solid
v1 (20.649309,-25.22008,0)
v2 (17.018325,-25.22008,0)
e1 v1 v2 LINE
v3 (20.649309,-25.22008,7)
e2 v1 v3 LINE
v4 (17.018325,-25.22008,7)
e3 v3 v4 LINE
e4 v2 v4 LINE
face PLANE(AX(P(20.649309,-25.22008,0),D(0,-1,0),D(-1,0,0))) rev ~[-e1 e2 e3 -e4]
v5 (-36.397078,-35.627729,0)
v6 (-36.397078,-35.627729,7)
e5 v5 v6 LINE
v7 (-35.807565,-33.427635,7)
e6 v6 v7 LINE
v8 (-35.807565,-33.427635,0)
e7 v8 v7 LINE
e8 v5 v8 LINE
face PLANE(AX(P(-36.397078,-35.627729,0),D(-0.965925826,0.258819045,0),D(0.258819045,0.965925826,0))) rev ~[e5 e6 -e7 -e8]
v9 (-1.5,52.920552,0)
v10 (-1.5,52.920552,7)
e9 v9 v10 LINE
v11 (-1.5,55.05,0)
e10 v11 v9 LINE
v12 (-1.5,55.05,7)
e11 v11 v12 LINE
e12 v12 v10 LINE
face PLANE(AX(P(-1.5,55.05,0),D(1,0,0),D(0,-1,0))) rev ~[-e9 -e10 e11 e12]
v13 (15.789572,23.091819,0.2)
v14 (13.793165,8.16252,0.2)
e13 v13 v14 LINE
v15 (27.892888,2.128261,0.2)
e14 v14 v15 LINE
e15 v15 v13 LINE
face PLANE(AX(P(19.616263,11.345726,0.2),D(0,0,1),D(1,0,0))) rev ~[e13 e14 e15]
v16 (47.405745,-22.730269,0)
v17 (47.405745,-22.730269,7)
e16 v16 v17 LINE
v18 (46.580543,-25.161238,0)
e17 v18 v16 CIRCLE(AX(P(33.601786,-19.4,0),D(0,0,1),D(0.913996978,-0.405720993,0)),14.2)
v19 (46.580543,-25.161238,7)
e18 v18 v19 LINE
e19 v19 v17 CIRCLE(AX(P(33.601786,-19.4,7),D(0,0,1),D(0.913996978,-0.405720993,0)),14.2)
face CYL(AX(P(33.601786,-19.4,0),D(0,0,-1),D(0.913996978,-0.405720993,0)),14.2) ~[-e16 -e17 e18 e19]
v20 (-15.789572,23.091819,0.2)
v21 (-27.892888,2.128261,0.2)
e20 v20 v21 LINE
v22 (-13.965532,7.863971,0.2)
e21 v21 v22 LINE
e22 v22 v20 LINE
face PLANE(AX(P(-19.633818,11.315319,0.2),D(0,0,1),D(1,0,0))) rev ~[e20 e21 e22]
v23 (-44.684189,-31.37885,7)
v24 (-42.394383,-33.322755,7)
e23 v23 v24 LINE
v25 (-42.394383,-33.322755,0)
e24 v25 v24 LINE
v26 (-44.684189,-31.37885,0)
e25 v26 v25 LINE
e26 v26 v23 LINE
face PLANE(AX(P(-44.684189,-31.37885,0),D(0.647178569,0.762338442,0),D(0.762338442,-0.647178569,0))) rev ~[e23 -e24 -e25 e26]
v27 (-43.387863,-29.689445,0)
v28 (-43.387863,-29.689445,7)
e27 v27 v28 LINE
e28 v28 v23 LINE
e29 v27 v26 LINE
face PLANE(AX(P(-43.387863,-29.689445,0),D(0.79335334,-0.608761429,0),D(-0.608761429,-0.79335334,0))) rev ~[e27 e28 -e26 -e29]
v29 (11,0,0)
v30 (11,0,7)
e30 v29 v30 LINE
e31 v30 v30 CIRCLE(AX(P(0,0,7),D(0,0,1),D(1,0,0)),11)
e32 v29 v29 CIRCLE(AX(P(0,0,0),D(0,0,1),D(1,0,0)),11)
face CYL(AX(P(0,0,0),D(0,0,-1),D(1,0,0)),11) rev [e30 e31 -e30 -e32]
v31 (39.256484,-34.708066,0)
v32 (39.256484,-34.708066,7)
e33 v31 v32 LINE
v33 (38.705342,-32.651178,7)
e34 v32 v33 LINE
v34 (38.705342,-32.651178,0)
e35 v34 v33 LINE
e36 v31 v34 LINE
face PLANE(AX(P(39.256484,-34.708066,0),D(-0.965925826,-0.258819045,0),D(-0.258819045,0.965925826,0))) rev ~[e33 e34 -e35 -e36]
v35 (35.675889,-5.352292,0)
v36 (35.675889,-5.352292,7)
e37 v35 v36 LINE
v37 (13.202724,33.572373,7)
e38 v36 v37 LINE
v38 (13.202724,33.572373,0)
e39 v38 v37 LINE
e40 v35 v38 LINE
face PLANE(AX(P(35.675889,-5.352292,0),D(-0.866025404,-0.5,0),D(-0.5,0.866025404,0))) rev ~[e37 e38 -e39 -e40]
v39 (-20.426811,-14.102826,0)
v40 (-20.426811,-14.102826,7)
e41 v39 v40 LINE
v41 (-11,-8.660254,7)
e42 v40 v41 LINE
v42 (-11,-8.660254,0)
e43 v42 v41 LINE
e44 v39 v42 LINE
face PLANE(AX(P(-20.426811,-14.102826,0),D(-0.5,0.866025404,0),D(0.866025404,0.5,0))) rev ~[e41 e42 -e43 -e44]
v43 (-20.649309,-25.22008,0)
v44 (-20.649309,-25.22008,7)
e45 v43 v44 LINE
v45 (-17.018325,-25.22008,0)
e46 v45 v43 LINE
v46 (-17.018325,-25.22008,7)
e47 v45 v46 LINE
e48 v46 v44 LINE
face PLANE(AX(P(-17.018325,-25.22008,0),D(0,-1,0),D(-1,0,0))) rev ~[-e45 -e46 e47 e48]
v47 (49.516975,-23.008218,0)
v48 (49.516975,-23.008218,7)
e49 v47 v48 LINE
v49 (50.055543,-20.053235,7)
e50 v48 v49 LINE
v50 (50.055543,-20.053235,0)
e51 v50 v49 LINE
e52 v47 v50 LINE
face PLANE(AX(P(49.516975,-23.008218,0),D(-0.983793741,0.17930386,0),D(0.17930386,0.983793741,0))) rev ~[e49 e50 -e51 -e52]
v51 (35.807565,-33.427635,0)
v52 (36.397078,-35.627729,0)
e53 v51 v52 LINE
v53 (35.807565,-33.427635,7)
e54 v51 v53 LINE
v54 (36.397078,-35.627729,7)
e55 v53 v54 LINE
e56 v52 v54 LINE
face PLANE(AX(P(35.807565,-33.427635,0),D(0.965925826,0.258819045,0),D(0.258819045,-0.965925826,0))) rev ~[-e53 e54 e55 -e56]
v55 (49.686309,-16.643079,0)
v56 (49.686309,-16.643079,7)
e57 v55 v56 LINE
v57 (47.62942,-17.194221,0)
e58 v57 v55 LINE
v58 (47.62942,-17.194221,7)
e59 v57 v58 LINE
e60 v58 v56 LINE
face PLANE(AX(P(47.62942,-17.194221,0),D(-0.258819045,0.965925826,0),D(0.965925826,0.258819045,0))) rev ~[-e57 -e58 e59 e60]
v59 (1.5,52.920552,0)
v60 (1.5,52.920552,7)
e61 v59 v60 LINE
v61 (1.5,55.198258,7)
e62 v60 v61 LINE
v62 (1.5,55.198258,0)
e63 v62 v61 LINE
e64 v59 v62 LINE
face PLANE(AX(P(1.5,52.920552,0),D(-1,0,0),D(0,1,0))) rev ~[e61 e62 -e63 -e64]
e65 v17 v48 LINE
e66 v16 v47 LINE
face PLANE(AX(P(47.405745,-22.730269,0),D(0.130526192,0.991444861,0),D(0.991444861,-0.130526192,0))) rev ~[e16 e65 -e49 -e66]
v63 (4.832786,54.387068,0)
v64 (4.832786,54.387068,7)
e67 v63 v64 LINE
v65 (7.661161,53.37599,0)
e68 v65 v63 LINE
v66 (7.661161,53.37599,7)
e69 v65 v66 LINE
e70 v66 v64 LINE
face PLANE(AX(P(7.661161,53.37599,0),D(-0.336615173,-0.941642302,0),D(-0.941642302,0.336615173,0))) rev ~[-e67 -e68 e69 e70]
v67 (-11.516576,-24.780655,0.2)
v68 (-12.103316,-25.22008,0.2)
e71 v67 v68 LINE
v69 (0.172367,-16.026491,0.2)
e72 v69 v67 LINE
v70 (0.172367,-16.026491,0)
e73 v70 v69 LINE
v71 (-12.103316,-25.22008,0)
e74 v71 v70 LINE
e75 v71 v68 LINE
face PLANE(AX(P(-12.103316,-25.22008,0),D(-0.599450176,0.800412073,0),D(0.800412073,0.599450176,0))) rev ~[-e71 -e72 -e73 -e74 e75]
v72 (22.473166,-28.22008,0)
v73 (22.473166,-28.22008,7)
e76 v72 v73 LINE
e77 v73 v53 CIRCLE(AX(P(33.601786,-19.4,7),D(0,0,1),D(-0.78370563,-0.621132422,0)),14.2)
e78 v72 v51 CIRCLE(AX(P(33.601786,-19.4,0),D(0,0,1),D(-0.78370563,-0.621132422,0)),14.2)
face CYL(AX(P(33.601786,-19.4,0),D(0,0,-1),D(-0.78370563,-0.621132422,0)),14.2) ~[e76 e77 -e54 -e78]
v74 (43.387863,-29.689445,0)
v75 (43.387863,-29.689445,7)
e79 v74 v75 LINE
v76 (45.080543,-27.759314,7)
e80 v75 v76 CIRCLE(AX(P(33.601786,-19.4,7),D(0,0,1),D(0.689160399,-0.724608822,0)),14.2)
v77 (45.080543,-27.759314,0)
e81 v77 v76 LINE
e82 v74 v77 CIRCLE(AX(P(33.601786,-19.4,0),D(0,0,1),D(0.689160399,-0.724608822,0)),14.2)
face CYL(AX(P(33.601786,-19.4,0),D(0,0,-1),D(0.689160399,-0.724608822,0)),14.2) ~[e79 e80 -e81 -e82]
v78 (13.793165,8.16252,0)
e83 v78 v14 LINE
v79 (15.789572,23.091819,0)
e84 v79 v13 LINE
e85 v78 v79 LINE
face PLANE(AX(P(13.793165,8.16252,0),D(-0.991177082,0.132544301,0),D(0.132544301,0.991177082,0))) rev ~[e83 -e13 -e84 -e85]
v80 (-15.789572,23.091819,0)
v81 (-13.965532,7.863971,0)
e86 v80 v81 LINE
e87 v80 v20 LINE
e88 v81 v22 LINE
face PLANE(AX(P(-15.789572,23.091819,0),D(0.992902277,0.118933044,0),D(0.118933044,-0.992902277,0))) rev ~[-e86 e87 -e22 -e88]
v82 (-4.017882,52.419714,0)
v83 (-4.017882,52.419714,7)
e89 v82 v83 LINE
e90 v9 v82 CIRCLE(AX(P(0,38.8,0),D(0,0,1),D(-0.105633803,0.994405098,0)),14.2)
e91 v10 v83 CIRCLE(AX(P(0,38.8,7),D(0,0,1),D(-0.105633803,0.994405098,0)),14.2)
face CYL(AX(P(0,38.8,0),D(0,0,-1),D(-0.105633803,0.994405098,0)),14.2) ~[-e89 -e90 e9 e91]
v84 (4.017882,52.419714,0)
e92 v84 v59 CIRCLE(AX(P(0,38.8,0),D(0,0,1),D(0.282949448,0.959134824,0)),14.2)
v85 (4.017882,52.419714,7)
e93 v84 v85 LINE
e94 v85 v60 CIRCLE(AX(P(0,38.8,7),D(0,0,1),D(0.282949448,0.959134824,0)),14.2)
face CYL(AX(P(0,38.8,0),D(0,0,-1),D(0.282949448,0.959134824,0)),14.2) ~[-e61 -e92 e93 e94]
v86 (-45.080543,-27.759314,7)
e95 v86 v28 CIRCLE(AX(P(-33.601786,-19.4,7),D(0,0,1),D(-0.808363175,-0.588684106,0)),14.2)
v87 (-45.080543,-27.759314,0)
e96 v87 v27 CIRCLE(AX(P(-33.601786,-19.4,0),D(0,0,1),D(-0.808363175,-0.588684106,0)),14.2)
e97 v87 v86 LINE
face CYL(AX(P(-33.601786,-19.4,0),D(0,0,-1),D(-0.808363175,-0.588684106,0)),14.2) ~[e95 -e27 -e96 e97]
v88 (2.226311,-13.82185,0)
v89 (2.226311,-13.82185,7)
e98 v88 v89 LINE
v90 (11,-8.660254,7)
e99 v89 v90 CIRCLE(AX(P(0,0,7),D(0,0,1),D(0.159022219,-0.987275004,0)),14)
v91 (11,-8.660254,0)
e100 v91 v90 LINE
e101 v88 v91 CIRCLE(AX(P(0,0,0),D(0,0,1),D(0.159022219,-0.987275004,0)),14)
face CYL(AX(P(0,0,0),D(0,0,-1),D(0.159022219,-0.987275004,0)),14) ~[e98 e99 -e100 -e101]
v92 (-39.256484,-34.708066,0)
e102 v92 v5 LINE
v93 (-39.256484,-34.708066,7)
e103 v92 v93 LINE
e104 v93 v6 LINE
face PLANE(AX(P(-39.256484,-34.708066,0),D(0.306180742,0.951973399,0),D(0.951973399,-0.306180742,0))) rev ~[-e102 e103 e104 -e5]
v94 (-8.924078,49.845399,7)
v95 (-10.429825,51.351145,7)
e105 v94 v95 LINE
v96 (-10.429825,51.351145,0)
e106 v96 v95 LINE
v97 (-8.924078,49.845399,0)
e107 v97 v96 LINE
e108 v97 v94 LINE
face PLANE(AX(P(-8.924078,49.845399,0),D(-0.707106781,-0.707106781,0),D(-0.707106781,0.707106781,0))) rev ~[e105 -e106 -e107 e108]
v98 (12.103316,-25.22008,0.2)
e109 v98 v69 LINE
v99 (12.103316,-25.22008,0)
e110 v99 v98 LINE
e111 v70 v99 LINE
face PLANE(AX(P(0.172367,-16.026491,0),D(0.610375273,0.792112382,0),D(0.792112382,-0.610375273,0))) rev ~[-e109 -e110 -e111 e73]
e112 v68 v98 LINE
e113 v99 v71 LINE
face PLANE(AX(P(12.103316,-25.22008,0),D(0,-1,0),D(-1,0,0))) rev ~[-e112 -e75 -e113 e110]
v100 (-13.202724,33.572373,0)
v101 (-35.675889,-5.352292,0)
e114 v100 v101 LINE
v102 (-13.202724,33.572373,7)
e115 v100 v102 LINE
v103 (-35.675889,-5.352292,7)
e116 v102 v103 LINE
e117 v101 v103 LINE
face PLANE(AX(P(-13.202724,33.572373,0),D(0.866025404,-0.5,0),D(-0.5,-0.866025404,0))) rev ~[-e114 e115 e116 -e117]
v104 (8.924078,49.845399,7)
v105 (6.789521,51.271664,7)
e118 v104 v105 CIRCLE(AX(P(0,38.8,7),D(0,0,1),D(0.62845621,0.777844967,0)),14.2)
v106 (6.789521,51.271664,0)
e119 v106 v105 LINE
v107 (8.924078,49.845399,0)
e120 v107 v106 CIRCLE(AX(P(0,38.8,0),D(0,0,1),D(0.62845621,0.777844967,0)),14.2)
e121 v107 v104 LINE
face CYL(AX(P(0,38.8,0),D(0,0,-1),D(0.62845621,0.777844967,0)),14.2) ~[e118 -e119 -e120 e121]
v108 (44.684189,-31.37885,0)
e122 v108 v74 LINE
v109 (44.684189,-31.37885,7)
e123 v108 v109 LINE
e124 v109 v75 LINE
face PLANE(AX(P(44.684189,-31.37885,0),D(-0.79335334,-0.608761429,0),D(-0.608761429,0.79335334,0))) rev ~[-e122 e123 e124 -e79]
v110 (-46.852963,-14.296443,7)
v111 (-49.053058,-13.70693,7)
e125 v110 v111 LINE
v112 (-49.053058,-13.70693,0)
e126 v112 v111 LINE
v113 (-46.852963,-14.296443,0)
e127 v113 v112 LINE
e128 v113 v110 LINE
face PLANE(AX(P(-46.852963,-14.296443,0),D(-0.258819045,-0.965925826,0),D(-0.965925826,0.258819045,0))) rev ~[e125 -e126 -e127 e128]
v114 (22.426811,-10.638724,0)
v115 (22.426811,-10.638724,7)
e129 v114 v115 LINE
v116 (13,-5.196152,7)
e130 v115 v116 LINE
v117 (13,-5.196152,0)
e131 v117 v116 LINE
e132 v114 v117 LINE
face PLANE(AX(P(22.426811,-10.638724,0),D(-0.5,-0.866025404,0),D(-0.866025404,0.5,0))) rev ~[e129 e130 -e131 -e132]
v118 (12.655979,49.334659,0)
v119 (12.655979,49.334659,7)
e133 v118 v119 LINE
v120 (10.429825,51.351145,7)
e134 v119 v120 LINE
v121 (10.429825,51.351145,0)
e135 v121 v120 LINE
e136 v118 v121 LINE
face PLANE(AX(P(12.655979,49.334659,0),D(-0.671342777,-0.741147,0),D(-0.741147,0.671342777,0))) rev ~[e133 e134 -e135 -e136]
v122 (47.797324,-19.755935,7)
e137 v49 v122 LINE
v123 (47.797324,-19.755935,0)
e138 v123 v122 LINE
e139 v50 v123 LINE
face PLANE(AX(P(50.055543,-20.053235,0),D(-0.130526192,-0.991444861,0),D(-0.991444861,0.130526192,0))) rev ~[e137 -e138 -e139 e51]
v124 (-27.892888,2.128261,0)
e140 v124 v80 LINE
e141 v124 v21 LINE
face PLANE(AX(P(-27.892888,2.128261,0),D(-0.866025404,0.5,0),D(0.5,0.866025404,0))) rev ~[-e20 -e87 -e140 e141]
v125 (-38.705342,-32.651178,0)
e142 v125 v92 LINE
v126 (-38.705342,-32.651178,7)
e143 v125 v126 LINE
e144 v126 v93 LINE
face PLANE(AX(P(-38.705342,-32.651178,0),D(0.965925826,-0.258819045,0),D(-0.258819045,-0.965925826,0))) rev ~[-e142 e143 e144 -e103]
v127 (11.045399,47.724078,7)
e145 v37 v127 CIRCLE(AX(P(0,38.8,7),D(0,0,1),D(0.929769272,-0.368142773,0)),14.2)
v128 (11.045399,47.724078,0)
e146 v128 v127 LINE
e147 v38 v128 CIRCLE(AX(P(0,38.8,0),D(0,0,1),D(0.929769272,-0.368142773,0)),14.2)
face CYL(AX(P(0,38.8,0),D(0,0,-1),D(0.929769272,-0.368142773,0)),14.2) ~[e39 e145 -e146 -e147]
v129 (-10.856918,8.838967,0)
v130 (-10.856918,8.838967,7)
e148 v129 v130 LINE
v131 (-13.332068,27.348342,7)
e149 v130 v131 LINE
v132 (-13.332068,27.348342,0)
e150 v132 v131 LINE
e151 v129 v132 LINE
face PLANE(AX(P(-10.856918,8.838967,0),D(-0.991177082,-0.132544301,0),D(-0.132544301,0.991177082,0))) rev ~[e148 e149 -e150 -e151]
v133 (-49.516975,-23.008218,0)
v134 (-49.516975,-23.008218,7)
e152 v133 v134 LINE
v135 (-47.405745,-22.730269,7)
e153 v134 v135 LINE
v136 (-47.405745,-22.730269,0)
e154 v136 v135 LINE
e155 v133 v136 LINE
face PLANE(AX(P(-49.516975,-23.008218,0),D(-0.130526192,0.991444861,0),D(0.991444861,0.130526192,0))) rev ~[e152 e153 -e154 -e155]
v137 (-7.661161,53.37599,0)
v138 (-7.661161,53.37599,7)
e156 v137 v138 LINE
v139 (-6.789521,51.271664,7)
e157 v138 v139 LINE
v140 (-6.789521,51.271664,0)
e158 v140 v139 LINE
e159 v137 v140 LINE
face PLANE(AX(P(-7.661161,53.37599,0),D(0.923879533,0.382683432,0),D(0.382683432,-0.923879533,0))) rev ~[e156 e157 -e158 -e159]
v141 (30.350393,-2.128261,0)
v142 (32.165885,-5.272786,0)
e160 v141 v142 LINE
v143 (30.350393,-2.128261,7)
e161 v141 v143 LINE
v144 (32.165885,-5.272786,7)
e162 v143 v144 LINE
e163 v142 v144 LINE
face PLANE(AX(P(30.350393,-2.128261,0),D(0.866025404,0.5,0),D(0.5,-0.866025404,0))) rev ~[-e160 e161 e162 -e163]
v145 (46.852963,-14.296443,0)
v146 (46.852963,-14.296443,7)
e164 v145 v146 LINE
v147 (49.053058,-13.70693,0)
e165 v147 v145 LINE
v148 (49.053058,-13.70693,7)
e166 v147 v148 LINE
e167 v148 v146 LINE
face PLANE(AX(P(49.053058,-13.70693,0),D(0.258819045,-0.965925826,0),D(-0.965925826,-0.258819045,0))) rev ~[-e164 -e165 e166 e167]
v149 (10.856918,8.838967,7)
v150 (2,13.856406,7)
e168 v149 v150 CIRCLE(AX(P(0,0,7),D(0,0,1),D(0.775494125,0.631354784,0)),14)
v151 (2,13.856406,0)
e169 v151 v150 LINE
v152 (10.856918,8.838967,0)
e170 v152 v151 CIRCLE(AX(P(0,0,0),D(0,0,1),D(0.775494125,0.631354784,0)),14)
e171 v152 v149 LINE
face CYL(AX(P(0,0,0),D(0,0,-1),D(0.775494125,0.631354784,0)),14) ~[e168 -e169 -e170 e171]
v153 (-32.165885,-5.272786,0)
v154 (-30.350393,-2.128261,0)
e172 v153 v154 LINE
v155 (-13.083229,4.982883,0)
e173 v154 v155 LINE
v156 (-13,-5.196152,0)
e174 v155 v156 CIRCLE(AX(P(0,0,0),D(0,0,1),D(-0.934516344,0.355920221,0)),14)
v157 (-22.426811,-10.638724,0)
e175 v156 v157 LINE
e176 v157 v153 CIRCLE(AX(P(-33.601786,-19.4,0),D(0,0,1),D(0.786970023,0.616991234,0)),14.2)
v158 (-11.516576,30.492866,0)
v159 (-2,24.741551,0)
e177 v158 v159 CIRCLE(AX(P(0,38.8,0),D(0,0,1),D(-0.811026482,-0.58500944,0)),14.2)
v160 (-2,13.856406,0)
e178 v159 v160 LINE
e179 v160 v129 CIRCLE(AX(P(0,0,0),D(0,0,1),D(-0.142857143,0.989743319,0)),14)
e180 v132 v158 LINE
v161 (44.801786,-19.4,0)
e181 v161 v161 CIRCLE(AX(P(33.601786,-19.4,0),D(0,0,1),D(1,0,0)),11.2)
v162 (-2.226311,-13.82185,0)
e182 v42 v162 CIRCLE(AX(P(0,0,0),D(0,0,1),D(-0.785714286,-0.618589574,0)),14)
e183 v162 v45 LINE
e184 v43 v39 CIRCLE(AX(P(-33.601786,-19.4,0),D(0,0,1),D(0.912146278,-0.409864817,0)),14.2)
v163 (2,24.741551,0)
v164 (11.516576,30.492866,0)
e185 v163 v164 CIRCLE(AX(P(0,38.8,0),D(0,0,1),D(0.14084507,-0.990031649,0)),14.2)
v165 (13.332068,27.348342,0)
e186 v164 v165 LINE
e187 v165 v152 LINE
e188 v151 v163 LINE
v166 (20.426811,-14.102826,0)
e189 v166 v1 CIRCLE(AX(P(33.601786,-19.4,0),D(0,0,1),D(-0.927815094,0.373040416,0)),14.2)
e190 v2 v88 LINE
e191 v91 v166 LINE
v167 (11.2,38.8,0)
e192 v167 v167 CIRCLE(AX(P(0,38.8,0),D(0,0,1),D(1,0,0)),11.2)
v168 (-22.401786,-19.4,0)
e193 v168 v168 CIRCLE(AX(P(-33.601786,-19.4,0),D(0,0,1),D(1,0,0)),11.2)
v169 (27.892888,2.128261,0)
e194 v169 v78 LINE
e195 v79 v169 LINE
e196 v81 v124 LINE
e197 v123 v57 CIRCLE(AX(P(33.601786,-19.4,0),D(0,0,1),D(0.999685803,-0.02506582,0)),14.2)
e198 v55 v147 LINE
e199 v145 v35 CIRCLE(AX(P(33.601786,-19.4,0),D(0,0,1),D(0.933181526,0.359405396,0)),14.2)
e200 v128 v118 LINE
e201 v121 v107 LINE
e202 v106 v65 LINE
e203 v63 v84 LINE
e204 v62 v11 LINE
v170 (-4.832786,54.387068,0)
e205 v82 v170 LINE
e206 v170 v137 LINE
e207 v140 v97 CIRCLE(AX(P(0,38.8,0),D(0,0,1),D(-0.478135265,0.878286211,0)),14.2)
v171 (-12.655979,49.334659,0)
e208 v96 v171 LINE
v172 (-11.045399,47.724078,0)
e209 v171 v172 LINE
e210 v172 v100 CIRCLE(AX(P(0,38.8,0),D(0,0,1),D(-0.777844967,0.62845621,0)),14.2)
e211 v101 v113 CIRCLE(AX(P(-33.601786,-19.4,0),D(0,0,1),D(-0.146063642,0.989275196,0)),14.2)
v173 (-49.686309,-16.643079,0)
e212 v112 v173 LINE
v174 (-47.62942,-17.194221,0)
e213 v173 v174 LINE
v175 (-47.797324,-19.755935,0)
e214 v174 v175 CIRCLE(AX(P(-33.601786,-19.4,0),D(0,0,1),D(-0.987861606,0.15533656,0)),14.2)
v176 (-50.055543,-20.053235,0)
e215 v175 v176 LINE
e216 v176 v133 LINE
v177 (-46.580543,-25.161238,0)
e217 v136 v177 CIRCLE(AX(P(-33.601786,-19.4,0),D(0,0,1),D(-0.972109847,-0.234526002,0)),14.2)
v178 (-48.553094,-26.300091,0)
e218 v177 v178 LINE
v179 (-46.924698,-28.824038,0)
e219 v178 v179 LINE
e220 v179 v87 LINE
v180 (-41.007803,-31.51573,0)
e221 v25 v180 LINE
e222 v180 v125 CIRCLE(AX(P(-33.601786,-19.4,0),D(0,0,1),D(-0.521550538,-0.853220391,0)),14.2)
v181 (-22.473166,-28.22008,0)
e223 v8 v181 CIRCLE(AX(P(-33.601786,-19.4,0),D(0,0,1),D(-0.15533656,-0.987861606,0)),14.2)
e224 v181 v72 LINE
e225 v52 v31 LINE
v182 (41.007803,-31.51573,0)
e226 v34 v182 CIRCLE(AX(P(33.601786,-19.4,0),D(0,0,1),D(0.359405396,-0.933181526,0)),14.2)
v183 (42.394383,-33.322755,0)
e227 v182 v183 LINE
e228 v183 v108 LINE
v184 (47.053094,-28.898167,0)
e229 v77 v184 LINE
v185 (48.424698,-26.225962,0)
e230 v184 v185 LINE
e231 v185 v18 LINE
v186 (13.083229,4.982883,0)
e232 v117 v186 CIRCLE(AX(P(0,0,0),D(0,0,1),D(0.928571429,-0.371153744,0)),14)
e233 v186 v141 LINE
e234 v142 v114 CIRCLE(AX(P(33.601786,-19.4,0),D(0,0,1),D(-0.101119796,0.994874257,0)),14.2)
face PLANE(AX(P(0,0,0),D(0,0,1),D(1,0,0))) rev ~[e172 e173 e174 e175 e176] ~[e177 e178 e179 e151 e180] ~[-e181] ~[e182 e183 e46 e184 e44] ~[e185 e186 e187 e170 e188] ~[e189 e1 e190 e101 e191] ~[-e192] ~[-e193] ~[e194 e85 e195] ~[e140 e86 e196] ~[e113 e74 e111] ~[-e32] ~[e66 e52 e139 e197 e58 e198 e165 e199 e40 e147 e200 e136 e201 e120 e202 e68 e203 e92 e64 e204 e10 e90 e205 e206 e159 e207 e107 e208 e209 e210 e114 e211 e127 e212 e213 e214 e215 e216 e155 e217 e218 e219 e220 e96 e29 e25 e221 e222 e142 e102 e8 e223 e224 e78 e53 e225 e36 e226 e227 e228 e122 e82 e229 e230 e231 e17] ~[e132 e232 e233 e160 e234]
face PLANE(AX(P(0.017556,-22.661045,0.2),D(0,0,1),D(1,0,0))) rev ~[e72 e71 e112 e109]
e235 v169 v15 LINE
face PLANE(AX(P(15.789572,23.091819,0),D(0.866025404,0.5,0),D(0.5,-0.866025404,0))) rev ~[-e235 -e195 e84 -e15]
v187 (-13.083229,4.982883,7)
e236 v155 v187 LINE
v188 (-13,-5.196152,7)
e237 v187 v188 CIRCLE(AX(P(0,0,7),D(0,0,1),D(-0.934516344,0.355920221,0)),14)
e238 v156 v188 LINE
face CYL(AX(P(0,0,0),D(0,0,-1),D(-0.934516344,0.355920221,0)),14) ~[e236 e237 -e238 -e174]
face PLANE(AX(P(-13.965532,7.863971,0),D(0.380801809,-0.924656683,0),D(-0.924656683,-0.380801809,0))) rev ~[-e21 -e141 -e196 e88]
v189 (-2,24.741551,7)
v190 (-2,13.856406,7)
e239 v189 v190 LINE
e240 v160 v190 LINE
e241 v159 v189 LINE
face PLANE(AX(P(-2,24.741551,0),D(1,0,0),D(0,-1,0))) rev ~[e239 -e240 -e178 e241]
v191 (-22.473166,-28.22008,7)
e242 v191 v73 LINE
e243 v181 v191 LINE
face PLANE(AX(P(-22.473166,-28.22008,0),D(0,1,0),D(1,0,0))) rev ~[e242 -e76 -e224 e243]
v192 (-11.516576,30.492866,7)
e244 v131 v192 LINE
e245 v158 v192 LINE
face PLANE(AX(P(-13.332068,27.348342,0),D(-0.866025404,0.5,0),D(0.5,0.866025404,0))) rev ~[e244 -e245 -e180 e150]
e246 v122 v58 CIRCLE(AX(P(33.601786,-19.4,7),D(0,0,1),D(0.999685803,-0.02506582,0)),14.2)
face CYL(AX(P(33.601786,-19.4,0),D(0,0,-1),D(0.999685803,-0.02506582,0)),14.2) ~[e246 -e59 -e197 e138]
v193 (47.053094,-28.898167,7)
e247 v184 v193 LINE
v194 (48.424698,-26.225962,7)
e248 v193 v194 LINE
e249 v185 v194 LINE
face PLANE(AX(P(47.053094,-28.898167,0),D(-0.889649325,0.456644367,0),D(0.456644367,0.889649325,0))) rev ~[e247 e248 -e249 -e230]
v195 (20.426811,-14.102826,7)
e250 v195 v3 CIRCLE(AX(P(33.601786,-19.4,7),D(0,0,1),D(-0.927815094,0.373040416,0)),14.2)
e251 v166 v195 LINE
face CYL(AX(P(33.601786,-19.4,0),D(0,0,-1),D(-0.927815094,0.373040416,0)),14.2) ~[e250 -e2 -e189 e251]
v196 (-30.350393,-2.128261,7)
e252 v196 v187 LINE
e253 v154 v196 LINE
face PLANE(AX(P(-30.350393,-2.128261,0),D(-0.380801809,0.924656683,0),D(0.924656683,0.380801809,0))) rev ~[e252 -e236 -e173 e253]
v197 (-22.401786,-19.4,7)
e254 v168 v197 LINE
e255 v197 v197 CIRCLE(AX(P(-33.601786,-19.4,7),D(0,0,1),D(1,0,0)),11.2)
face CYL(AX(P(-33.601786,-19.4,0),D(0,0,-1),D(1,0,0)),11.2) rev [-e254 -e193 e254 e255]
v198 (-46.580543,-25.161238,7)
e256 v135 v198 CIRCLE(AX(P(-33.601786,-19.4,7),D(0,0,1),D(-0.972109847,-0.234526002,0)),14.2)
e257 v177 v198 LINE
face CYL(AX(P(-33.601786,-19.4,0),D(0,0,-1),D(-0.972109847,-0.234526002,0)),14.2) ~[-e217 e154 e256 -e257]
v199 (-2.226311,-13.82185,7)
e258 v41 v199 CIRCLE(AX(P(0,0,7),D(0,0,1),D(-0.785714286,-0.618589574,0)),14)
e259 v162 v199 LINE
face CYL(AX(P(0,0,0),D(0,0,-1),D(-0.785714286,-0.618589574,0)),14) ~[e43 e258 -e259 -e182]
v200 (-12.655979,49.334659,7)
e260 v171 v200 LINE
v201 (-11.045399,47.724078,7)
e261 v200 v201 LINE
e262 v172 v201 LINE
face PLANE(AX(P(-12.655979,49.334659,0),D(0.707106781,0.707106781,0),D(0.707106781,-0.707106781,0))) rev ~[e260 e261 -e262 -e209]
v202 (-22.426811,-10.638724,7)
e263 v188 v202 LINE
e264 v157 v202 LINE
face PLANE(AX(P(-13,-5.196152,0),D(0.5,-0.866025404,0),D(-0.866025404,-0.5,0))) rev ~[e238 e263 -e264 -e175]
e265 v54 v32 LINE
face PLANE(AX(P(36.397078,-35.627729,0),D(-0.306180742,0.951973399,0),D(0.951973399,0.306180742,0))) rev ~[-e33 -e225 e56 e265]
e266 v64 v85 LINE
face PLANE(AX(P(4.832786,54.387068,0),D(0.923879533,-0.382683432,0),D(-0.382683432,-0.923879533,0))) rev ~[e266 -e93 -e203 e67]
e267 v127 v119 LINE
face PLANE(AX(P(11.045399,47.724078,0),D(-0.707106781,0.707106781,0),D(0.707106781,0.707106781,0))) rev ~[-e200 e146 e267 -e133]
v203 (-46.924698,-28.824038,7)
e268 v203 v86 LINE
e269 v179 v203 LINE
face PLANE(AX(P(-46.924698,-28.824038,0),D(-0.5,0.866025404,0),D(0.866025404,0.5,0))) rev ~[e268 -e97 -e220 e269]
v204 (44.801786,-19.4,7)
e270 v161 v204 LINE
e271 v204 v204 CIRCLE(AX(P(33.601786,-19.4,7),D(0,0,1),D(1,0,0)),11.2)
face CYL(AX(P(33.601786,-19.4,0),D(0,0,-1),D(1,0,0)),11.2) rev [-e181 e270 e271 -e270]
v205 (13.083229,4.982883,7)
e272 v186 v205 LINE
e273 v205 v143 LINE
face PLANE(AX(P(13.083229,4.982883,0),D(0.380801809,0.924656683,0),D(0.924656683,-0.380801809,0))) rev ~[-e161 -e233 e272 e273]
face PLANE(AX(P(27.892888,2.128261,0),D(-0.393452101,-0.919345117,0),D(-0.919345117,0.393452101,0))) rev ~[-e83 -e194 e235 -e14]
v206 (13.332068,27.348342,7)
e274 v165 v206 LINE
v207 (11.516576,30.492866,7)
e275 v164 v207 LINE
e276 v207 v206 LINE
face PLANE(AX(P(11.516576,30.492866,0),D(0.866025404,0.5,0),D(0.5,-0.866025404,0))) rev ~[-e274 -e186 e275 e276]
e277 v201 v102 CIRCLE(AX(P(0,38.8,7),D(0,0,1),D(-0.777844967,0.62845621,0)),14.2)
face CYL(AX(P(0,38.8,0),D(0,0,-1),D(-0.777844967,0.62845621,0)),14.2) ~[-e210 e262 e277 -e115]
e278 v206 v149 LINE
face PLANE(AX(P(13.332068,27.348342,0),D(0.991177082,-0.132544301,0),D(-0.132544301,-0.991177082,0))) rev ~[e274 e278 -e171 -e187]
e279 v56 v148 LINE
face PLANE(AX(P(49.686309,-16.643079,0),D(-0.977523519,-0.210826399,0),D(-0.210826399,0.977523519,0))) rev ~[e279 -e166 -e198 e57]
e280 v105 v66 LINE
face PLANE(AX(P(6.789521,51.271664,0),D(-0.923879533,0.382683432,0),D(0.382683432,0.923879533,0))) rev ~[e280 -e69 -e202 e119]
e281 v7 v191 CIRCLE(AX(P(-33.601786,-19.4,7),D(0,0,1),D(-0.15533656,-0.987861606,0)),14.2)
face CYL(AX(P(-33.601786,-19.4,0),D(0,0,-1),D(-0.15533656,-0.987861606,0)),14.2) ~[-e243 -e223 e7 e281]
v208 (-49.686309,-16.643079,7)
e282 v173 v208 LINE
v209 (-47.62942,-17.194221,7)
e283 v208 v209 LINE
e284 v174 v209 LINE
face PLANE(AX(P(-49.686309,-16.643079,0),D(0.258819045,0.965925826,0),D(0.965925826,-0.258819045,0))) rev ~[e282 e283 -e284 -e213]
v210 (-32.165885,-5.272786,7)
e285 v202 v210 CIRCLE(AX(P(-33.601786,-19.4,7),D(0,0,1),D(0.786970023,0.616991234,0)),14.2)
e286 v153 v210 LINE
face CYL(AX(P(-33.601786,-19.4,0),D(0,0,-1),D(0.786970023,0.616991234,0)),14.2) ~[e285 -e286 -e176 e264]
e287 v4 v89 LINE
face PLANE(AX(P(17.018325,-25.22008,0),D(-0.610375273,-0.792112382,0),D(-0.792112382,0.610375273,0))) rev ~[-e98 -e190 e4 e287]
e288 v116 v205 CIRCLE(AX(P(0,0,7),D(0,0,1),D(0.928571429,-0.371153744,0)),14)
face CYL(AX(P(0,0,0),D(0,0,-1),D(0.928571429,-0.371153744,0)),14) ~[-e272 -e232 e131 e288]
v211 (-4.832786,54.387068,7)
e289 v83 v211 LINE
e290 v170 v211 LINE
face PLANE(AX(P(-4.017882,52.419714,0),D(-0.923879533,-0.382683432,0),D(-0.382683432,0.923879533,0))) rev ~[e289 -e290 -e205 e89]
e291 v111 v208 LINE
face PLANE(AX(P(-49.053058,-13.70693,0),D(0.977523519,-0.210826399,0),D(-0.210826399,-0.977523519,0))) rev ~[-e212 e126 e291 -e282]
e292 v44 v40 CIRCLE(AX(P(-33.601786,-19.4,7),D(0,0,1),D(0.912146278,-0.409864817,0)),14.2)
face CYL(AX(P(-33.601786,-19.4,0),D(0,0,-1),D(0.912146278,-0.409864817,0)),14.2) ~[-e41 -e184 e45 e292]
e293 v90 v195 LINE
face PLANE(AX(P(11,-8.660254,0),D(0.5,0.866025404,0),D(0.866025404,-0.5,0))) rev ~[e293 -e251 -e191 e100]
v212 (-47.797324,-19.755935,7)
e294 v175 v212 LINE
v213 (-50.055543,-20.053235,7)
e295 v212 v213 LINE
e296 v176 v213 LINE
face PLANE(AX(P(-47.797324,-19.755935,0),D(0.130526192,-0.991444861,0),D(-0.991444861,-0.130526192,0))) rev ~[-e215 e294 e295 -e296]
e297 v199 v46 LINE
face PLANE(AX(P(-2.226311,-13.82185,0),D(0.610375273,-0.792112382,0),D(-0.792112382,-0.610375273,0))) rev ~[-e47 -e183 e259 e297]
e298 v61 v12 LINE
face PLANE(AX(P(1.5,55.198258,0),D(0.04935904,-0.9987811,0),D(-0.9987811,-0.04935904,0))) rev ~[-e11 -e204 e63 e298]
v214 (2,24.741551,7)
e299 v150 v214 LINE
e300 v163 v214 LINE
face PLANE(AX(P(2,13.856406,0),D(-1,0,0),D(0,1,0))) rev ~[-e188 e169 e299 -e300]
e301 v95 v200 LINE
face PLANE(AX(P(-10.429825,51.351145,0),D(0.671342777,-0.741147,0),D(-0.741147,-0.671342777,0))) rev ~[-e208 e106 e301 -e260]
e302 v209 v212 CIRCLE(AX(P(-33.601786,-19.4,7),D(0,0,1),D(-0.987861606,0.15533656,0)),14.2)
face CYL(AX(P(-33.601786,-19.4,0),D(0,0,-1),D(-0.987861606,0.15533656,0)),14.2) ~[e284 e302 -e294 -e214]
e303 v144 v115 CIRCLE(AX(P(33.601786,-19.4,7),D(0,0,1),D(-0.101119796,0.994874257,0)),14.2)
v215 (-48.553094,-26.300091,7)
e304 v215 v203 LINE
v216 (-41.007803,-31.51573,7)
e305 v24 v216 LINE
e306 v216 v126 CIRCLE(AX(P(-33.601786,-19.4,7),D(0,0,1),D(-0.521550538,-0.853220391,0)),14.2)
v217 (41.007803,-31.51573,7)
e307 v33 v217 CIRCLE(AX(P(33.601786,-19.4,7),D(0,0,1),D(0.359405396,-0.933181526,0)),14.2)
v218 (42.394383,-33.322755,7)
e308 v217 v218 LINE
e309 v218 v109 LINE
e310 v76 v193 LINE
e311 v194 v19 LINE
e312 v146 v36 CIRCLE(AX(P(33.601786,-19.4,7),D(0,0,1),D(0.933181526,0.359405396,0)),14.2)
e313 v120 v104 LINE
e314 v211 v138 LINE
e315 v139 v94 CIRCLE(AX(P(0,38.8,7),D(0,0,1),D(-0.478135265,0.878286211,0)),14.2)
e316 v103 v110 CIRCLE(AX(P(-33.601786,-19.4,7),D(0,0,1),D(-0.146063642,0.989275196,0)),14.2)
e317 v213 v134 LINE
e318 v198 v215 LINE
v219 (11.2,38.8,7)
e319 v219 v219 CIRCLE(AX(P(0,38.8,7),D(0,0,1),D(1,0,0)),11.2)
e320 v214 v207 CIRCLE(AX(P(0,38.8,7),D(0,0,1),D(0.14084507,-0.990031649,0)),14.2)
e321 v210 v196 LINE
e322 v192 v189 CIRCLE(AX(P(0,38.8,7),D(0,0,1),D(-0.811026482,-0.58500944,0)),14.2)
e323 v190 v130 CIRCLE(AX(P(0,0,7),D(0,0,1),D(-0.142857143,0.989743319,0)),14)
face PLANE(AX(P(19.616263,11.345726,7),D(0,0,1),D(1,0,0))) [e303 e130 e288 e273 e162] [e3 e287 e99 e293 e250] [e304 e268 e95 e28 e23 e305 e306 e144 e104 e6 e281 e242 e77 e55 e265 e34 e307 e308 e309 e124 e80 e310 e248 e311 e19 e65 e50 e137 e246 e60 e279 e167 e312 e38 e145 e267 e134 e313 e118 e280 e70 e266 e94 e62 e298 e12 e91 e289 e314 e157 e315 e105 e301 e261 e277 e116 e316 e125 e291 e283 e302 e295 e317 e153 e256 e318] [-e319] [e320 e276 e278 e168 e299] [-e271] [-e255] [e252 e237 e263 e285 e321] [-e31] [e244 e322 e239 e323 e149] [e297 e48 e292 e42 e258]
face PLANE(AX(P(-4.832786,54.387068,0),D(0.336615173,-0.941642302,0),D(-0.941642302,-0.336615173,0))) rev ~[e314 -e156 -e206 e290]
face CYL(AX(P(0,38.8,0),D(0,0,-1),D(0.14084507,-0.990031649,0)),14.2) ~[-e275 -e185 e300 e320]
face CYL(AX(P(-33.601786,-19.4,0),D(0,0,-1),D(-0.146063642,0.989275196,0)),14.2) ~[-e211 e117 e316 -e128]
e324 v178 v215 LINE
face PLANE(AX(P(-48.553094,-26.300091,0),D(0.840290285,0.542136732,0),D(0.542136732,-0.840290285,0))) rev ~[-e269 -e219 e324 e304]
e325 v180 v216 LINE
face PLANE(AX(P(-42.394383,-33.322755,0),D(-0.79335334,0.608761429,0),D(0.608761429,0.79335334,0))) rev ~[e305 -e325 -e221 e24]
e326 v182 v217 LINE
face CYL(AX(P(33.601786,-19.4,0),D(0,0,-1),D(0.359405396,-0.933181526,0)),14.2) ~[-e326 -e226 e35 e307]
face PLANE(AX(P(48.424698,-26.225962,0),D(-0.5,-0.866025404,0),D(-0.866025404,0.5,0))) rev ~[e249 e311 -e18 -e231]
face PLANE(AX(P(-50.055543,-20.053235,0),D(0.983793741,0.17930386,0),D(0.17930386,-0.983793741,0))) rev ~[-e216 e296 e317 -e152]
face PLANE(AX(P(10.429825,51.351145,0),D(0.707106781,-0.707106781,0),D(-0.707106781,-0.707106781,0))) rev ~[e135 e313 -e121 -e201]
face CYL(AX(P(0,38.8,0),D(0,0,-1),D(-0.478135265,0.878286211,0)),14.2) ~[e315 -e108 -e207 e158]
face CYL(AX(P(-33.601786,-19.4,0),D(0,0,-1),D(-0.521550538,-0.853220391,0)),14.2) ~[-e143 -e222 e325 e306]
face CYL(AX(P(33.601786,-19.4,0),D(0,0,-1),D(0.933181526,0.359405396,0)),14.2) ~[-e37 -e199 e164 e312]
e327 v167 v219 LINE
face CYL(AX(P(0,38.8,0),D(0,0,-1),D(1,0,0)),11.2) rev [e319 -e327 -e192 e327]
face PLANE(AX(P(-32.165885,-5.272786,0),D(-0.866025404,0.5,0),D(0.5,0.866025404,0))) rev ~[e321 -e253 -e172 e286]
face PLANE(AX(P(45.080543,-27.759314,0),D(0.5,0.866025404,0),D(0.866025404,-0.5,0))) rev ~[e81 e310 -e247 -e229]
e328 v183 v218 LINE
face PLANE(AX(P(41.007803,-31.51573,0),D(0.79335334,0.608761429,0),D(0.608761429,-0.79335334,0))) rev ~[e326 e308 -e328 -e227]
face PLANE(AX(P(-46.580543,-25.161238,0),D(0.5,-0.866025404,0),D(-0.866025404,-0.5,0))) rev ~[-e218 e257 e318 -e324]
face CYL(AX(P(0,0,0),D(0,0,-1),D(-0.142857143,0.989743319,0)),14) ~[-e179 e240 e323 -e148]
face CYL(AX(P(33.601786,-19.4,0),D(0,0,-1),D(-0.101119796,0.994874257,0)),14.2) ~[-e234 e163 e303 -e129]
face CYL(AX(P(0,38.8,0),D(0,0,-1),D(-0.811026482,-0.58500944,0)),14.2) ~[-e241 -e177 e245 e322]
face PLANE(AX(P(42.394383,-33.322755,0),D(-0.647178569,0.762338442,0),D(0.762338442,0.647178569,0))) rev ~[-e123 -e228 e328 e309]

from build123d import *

# Parameters (mm, degrees)
F0_R     = 11.2
F0_R_2   = 11
F1_DEPTH = 7
F3_DEPTH = 6.8


with BuildPart() as f1:
    # F0 (on Top) → F1 (new body)
    with BuildSketch(Plane.XY):
        with BuildLine():
            Line((-12.6559794838, 49.3346591402), (-11.0453985259, 47.7240781823))
            ThreePointArc((-11.0453985259, 47.7240781823), (-14.0378256841, 40.9399649675), (-13.2027236571, 33.572372619))
            Line((-13.2027236571, 33.572372619), (-35.6758893819, -5.3522922233))
            ThreePointArc((-35.6758893819, -5.3522922233), (-42.473962534, -8.3128688274), (-46.852963341, -14.2964433728))
            Line((-46.852963341, -14.2964433728), (-49.0530578444, -13.7069298274))
            Line((-49.0530578444, -13.7069298274), (-49.6863089117, -16.6430792565))
            Line((-49.6863089117, -16.6430792565), (-47.6294204763, -17.1942208517))
            ThreePointArc((-47.6294204763, -17.1942208517), (-47.7713823768, -18.4712755649), (-47.7973240691, -19.7559346444))
            Line((-47.7973240691, -19.7559346444), (-50.0555434173, -20.0532348617))
            Line((-50.0555434173, -20.0532348617), (-49.5169753758, -23.0082179156))
            Line((-49.5169753758, -23.0082179156), (-47.4057454924, -22.7302692285))
            ThreePointArc((-47.4057454924, -22.7302692285), (-47.0481935057, -23.9644404073), (-46.5805427582, -25.1612380929))
            Line((-46.5805427582, -25.1612380929), (-48.5530935264, -26.3000908099))
            Line((-48.5530935264, -26.3000908099), (-46.9246984783, -28.8240381057))
            Line((-46.9246984783, -28.8240381057), (-45.0805427582, -27.7593143042))
            ThreePointArc((-45.0805427582, -27.7593143042), (-44.277910933, -28.7627105744), (-43.3878633329, -29.6894452675))
            Line((-43.3878633329, -29.6894452675), (-44.6841888987, -31.3788496362))
            Line((-44.6841888987, -31.3788496362), (-42.3943825269, -33.3227547688))
            Line((-42.3943825269, -33.3227547688), (-41.0078033121, -31.5157295545))
            ThreePointArc((-41.0078033121, -31.5157295545), (-39.8822850679, -32.1355929298), (-38.705342294, -32.6511776742))
            Line((-38.705342294, -32.6511776742), (-39.2564838892, -34.7080661095))
            Line((-39.2564838892, -34.7080661095), (-36.3970783606, -35.6277293129))
            Line((-36.3970783606, -35.6277293129), (-35.8075648151, -33.4276348095))
            ThreePointArc((-35.8075648151, -33.4276348095), (-28.4361368498, -32.6270961401), (-22.4731657248, -28.2200803957))
            Line((-22.4731657248, -28.2200803957), (22.4731657248, -28.2200803957))
            ThreePointArc((22.4731657248, -28.2200803957), (28.4361368498, -32.6270961401), (35.8075648151, -33.4276348095))
            Line((35.8075648151, -33.4276348095), (36.3970783606, -35.6277293129))
            Line((36.3970783606, -35.6277293129), (39.2564838892, -34.7080661095))
            Line((39.2564838892, -34.7080661095), (38.705342294, -32.6511776742))
            ThreePointArc((38.705342294, -32.6511776742), (39.8822850679, -32.1355929298), (41.0078033121, -31.5157295545))
            Line((41.0078033121, -31.5157295545), (42.3943825269, -33.3227547688))
            Line((42.3943825269, -33.3227547688), (44.6841888987, -31.3788496362))
            Line((44.6841888987, -31.3788496362), (43.3878633329, -29.6894452675))
            ThreePointArc((43.3878633329, -29.6894452675), (44.277910933, -28.7627105744), (45.0805427582, -27.7593143042))
            Line((45.0805427582, -27.7593143042), (47.0530935264, -28.8981670212))
            Line((47.0530935264, -28.8981670212), (48.4246984783, -26.2259618943))
            Line((48.4246984783, -26.2259618943), (46.5805427582, -25.1612380929))
            ThreePointArc((46.5805427582, -25.1612380929), (47.0481935057, -23.9644404073), (47.4057454924, -22.7302692285))
            Line((47.4057454924, -22.7302692285), (49.5169753758, -23.0082179156))
            Line((49.5169753758, -23.0082179156), (50.0555434173, -20.0532348617))
            Line((50.0555434173, -20.0532348617), (47.7973240691, -19.7559346444))
            ThreePointArc((47.7973240691, -19.7559346444), (47.7713823768, -18.4712755649), (47.6294204763, -17.1942208517))
            Line((47.6294204763, -17.1942208517), (49.6863089117, -16.6430792565))
            Line((49.6863089117, -16.6430792565), (49.0530578444, -13.7069298274))
            Line((49.0530578444, -13.7069298274), (46.852963341, -14.2964433728))
            ThreePointArc((46.852963341, -14.2964433728), (42.473962534, -8.3128688274), (35.6758893819, -5.3522922233))
            Line((35.6758893819, -5.3522922233), (13.2027236571, 33.572372619))
            ThreePointArc((13.2027236571, 33.572372619), (14.0378256841, 40.9399649675), (11.0453985259, 47.7240781823))
            Line((11.0453985259, 47.7240781823), (12.6559794838, 49.3346591402))
            Line((12.6559794838, 49.3346591402), (10.4298250225, 51.3511453661))
            Line((10.4298250225, 51.3511453661), (8.9240781823, 49.8453985259))
            ThreePointArc((8.9240781823, 49.8453985259), (7.8890973089, 50.6068684947), (6.789520757, 51.2716641989))
            Line((6.789520757, 51.2716641989), (7.6611608904, 53.3759896304))
            Line((7.6611608904, 53.3759896304), (4.8327864772, 54.3870675519))
            Line((4.8327864772, 54.3870675519), (4.0178821595, 52.419714496))
            ThreePointArc((4.0178821595, 52.419714496), (2.7702825726, 52.7271509817), (1.5, 52.9205523971))
            Line((1.5, 52.9205523971), (1.5, 55.1982578311))
            Line((1.5, 55.1982578311), (-1.5, 55.05))
            Line((-1.5, 55.05), (-1.5, 52.9205523971))
            ThreePointArc((-1.5, 52.9205523971), (-2.7702825726, 52.7271509817), (-4.0178821595, 52.419714496))
            Line((-4.0178821595, 52.419714496), (-4.8327864772, 54.3870675519))
            Line((-4.8327864772, 54.3870675519), (-7.6611608904, 53.3759896304))
            Line((-7.6611608904, 53.3759896304), (-6.789520757, 51.2716641989))
            ThreePointArc((-6.789520757, 51.2716641989), (-7.8890973089, 50.6068684947), (-8.9240781823, 49.8453985259))
            Line((-8.9240781823, 49.8453985259), (-10.4298250225, 51.3511453661))
            Line((-10.4298250225, 51.3511453661), (-12.6559794838, 49.3346591402))
        make_face()
        with Locations((-33.6017856668, -19.4)):
            Circle(F0_R, mode=Mode.SUBTRACT)
        Polygon((-12.1033156734, -25.2200803957), (0.172366893, -16.0264908435), (12.1033156734, -25.2200803957), align=None, mode=Mode.SUBTRACT)
        with BuildLine():
            Line((-20.4268113342, -14.1028260993), (-11, -8.6602540378))
            ThreePointArc((-11, -8.6602540378), (-7.0988974128, -12.0667168494), (-2.2263110665, -13.8218500583))
            Line((-2.2263110665, -13.8218500583), (-17.0183247375, -25.2200803957))
            Line((-17.0183247375, -25.2200803957), (-20.649308522, -25.2200803957))
            ThreePointArc((-20.649308522, -25.2200803957), (-19.4046286997, -19.6841373792), (-20.4268113342, -14.1028260993))
        make_face(mode=Mode.SUBTRACT)
        with BuildLine():
            ThreePointArc((-13.0832288111, 4.9828830888), (-13.9995320382, -0.1144670736), (-13, -5.1961524227))
            Line((-13, -5.1961524227), (-22.4268113342, -10.6387244841))
            ThreePointArc((-22.4268113342, -10.6387244841), (-26.7492773718, -6.9628327153), (-32.1658845691, -5.2727855528))
            Line((-32.1658845691, -5.2727855528), (-30.3503926769, -2.1282613547))
            Line((-30.3503926769, -2.1282613547), (-13.0832288111, 4.9828830888))
        make_face(mode=Mode.SUBTRACT)
        with BuildLine():
            ThreePointArc((2.2263110665, -13.8218500583), (7.0988974128, -12.0667168494), (11, -8.6602540378))
            Line((11, -8.6602540378), (20.4268113342, -14.1028260993))
            ThreePointArc((20.4268113342, -14.1028260993), (19.4046286997, -19.6841373792), (20.649308522, -25.2200803957))
            Line((20.649308522, -25.2200803957), (17.0183247375, -25.2200803957))
            Line((17.0183247375, -25.2200803957), (2.2263110665, -13.8218500583))
        make_face(mode=Mode.SUBTRACT)
        with Locations((33.6017856668, -19.4)):
            Circle(F0_R, mode=Mode.SUBTRACT)
        with BuildLine():
            Line((22.4268113342, -10.6387244841), (13, -5.1961524227))
            ThreePointArc((13, -5.1961524227), (13.9995320382, -0.1144670736), (13.0832288111, 4.9828830888))
            Line((13.0832288111, 4.9828830888), (30.3503926769, -2.1282613547))
            Line((30.3503926769, -2.1282613547), (32.1658845691, -5.2727855528))
            ThreePointArc((32.1658845691, -5.2727855528), (26.7492773718, -6.9628327153), (22.4268113342, -10.6387244841))
        make_face(mode=Mode.SUBTRACT)
        Circle(F0_R_2, mode=Mode.SUBTRACT)
        Polygon((-15.7895724715, 23.091819041), (-13.9655316505, 7.8639713136), (-27.8928881448, 2.1282613547), align=None, mode=Mode.SUBTRACT)
        with BuildLine():
            Line((-2, 24.7415505834), (-2, 13.8564064606))
            ThreePointArc((-2, 13.8564064606), (-6.9006346255, 12.181183923), (-10.8569177445, 8.8389669695))
            Line((-10.8569177445, 8.8389669695), (-13.3320679394, 27.3483417504))
            Line((-13.3320679394, 27.3483417504), (-11.5165760472, 30.4928659485))
            ThreePointArc((-11.5165760472, 30.4928659485), (-7.3446486721, 26.6469700945), (-2, 24.7415505834))
        make_face(mode=Mode.SUBTRACT)
        with BuildLine():
            ThreePointArc((10.8569177445, 8.8389669695), (6.9006346255, 12.181183923), (2, 13.8564064606))
            Line((2, 13.8564064606), (2, 24.7415505834))
            ThreePointArc((2, 24.7415505834), (7.3446486721, 26.6469700945), (11.5165760472, 30.4928659485))
            Line((11.5165760472, 30.4928659485), (13.3320679394, 27.3483417504))
            Line((13.3320679394, 27.3483417504), (10.8569177445, 8.8389669695))
        make_face(mode=Mode.SUBTRACT)
        Polygon((27.8928881448, 2.1282613547), (13.7931647575, 8.1625195299), (15.7895724715, 23.091819041), align=None, mode=Mode.SUBTRACT)
        with Locations((0, 38.8)):
            Circle(F0_R, mode=Mode.SUBTRACT)
    extrude(amount=F1_DEPTH)

    # F2 (on face) → F3 (join)
    with BuildSketch(Plane.XY.offset(7)):
        Polygon((27.8928881448, 2.1282613547), (15.7895724715, 23.091819041), (13.7931647575, 8.1625195299), align=None)
        Polygon((-12.1033156734, -25.2200803957), (12.1033156734, -25.2200803957), (0.172366893, -16.0264908435), (-11.5165760472, -24.7806552747), align=None)
        Polygon((-13.9655316505, 7.8639713136), (-15.7895724715, 23.091819041), (-27.8928881448, 2.1282613547), align=None)
    extrude(amount=-F3_DEPTH)


solid = f1.part
